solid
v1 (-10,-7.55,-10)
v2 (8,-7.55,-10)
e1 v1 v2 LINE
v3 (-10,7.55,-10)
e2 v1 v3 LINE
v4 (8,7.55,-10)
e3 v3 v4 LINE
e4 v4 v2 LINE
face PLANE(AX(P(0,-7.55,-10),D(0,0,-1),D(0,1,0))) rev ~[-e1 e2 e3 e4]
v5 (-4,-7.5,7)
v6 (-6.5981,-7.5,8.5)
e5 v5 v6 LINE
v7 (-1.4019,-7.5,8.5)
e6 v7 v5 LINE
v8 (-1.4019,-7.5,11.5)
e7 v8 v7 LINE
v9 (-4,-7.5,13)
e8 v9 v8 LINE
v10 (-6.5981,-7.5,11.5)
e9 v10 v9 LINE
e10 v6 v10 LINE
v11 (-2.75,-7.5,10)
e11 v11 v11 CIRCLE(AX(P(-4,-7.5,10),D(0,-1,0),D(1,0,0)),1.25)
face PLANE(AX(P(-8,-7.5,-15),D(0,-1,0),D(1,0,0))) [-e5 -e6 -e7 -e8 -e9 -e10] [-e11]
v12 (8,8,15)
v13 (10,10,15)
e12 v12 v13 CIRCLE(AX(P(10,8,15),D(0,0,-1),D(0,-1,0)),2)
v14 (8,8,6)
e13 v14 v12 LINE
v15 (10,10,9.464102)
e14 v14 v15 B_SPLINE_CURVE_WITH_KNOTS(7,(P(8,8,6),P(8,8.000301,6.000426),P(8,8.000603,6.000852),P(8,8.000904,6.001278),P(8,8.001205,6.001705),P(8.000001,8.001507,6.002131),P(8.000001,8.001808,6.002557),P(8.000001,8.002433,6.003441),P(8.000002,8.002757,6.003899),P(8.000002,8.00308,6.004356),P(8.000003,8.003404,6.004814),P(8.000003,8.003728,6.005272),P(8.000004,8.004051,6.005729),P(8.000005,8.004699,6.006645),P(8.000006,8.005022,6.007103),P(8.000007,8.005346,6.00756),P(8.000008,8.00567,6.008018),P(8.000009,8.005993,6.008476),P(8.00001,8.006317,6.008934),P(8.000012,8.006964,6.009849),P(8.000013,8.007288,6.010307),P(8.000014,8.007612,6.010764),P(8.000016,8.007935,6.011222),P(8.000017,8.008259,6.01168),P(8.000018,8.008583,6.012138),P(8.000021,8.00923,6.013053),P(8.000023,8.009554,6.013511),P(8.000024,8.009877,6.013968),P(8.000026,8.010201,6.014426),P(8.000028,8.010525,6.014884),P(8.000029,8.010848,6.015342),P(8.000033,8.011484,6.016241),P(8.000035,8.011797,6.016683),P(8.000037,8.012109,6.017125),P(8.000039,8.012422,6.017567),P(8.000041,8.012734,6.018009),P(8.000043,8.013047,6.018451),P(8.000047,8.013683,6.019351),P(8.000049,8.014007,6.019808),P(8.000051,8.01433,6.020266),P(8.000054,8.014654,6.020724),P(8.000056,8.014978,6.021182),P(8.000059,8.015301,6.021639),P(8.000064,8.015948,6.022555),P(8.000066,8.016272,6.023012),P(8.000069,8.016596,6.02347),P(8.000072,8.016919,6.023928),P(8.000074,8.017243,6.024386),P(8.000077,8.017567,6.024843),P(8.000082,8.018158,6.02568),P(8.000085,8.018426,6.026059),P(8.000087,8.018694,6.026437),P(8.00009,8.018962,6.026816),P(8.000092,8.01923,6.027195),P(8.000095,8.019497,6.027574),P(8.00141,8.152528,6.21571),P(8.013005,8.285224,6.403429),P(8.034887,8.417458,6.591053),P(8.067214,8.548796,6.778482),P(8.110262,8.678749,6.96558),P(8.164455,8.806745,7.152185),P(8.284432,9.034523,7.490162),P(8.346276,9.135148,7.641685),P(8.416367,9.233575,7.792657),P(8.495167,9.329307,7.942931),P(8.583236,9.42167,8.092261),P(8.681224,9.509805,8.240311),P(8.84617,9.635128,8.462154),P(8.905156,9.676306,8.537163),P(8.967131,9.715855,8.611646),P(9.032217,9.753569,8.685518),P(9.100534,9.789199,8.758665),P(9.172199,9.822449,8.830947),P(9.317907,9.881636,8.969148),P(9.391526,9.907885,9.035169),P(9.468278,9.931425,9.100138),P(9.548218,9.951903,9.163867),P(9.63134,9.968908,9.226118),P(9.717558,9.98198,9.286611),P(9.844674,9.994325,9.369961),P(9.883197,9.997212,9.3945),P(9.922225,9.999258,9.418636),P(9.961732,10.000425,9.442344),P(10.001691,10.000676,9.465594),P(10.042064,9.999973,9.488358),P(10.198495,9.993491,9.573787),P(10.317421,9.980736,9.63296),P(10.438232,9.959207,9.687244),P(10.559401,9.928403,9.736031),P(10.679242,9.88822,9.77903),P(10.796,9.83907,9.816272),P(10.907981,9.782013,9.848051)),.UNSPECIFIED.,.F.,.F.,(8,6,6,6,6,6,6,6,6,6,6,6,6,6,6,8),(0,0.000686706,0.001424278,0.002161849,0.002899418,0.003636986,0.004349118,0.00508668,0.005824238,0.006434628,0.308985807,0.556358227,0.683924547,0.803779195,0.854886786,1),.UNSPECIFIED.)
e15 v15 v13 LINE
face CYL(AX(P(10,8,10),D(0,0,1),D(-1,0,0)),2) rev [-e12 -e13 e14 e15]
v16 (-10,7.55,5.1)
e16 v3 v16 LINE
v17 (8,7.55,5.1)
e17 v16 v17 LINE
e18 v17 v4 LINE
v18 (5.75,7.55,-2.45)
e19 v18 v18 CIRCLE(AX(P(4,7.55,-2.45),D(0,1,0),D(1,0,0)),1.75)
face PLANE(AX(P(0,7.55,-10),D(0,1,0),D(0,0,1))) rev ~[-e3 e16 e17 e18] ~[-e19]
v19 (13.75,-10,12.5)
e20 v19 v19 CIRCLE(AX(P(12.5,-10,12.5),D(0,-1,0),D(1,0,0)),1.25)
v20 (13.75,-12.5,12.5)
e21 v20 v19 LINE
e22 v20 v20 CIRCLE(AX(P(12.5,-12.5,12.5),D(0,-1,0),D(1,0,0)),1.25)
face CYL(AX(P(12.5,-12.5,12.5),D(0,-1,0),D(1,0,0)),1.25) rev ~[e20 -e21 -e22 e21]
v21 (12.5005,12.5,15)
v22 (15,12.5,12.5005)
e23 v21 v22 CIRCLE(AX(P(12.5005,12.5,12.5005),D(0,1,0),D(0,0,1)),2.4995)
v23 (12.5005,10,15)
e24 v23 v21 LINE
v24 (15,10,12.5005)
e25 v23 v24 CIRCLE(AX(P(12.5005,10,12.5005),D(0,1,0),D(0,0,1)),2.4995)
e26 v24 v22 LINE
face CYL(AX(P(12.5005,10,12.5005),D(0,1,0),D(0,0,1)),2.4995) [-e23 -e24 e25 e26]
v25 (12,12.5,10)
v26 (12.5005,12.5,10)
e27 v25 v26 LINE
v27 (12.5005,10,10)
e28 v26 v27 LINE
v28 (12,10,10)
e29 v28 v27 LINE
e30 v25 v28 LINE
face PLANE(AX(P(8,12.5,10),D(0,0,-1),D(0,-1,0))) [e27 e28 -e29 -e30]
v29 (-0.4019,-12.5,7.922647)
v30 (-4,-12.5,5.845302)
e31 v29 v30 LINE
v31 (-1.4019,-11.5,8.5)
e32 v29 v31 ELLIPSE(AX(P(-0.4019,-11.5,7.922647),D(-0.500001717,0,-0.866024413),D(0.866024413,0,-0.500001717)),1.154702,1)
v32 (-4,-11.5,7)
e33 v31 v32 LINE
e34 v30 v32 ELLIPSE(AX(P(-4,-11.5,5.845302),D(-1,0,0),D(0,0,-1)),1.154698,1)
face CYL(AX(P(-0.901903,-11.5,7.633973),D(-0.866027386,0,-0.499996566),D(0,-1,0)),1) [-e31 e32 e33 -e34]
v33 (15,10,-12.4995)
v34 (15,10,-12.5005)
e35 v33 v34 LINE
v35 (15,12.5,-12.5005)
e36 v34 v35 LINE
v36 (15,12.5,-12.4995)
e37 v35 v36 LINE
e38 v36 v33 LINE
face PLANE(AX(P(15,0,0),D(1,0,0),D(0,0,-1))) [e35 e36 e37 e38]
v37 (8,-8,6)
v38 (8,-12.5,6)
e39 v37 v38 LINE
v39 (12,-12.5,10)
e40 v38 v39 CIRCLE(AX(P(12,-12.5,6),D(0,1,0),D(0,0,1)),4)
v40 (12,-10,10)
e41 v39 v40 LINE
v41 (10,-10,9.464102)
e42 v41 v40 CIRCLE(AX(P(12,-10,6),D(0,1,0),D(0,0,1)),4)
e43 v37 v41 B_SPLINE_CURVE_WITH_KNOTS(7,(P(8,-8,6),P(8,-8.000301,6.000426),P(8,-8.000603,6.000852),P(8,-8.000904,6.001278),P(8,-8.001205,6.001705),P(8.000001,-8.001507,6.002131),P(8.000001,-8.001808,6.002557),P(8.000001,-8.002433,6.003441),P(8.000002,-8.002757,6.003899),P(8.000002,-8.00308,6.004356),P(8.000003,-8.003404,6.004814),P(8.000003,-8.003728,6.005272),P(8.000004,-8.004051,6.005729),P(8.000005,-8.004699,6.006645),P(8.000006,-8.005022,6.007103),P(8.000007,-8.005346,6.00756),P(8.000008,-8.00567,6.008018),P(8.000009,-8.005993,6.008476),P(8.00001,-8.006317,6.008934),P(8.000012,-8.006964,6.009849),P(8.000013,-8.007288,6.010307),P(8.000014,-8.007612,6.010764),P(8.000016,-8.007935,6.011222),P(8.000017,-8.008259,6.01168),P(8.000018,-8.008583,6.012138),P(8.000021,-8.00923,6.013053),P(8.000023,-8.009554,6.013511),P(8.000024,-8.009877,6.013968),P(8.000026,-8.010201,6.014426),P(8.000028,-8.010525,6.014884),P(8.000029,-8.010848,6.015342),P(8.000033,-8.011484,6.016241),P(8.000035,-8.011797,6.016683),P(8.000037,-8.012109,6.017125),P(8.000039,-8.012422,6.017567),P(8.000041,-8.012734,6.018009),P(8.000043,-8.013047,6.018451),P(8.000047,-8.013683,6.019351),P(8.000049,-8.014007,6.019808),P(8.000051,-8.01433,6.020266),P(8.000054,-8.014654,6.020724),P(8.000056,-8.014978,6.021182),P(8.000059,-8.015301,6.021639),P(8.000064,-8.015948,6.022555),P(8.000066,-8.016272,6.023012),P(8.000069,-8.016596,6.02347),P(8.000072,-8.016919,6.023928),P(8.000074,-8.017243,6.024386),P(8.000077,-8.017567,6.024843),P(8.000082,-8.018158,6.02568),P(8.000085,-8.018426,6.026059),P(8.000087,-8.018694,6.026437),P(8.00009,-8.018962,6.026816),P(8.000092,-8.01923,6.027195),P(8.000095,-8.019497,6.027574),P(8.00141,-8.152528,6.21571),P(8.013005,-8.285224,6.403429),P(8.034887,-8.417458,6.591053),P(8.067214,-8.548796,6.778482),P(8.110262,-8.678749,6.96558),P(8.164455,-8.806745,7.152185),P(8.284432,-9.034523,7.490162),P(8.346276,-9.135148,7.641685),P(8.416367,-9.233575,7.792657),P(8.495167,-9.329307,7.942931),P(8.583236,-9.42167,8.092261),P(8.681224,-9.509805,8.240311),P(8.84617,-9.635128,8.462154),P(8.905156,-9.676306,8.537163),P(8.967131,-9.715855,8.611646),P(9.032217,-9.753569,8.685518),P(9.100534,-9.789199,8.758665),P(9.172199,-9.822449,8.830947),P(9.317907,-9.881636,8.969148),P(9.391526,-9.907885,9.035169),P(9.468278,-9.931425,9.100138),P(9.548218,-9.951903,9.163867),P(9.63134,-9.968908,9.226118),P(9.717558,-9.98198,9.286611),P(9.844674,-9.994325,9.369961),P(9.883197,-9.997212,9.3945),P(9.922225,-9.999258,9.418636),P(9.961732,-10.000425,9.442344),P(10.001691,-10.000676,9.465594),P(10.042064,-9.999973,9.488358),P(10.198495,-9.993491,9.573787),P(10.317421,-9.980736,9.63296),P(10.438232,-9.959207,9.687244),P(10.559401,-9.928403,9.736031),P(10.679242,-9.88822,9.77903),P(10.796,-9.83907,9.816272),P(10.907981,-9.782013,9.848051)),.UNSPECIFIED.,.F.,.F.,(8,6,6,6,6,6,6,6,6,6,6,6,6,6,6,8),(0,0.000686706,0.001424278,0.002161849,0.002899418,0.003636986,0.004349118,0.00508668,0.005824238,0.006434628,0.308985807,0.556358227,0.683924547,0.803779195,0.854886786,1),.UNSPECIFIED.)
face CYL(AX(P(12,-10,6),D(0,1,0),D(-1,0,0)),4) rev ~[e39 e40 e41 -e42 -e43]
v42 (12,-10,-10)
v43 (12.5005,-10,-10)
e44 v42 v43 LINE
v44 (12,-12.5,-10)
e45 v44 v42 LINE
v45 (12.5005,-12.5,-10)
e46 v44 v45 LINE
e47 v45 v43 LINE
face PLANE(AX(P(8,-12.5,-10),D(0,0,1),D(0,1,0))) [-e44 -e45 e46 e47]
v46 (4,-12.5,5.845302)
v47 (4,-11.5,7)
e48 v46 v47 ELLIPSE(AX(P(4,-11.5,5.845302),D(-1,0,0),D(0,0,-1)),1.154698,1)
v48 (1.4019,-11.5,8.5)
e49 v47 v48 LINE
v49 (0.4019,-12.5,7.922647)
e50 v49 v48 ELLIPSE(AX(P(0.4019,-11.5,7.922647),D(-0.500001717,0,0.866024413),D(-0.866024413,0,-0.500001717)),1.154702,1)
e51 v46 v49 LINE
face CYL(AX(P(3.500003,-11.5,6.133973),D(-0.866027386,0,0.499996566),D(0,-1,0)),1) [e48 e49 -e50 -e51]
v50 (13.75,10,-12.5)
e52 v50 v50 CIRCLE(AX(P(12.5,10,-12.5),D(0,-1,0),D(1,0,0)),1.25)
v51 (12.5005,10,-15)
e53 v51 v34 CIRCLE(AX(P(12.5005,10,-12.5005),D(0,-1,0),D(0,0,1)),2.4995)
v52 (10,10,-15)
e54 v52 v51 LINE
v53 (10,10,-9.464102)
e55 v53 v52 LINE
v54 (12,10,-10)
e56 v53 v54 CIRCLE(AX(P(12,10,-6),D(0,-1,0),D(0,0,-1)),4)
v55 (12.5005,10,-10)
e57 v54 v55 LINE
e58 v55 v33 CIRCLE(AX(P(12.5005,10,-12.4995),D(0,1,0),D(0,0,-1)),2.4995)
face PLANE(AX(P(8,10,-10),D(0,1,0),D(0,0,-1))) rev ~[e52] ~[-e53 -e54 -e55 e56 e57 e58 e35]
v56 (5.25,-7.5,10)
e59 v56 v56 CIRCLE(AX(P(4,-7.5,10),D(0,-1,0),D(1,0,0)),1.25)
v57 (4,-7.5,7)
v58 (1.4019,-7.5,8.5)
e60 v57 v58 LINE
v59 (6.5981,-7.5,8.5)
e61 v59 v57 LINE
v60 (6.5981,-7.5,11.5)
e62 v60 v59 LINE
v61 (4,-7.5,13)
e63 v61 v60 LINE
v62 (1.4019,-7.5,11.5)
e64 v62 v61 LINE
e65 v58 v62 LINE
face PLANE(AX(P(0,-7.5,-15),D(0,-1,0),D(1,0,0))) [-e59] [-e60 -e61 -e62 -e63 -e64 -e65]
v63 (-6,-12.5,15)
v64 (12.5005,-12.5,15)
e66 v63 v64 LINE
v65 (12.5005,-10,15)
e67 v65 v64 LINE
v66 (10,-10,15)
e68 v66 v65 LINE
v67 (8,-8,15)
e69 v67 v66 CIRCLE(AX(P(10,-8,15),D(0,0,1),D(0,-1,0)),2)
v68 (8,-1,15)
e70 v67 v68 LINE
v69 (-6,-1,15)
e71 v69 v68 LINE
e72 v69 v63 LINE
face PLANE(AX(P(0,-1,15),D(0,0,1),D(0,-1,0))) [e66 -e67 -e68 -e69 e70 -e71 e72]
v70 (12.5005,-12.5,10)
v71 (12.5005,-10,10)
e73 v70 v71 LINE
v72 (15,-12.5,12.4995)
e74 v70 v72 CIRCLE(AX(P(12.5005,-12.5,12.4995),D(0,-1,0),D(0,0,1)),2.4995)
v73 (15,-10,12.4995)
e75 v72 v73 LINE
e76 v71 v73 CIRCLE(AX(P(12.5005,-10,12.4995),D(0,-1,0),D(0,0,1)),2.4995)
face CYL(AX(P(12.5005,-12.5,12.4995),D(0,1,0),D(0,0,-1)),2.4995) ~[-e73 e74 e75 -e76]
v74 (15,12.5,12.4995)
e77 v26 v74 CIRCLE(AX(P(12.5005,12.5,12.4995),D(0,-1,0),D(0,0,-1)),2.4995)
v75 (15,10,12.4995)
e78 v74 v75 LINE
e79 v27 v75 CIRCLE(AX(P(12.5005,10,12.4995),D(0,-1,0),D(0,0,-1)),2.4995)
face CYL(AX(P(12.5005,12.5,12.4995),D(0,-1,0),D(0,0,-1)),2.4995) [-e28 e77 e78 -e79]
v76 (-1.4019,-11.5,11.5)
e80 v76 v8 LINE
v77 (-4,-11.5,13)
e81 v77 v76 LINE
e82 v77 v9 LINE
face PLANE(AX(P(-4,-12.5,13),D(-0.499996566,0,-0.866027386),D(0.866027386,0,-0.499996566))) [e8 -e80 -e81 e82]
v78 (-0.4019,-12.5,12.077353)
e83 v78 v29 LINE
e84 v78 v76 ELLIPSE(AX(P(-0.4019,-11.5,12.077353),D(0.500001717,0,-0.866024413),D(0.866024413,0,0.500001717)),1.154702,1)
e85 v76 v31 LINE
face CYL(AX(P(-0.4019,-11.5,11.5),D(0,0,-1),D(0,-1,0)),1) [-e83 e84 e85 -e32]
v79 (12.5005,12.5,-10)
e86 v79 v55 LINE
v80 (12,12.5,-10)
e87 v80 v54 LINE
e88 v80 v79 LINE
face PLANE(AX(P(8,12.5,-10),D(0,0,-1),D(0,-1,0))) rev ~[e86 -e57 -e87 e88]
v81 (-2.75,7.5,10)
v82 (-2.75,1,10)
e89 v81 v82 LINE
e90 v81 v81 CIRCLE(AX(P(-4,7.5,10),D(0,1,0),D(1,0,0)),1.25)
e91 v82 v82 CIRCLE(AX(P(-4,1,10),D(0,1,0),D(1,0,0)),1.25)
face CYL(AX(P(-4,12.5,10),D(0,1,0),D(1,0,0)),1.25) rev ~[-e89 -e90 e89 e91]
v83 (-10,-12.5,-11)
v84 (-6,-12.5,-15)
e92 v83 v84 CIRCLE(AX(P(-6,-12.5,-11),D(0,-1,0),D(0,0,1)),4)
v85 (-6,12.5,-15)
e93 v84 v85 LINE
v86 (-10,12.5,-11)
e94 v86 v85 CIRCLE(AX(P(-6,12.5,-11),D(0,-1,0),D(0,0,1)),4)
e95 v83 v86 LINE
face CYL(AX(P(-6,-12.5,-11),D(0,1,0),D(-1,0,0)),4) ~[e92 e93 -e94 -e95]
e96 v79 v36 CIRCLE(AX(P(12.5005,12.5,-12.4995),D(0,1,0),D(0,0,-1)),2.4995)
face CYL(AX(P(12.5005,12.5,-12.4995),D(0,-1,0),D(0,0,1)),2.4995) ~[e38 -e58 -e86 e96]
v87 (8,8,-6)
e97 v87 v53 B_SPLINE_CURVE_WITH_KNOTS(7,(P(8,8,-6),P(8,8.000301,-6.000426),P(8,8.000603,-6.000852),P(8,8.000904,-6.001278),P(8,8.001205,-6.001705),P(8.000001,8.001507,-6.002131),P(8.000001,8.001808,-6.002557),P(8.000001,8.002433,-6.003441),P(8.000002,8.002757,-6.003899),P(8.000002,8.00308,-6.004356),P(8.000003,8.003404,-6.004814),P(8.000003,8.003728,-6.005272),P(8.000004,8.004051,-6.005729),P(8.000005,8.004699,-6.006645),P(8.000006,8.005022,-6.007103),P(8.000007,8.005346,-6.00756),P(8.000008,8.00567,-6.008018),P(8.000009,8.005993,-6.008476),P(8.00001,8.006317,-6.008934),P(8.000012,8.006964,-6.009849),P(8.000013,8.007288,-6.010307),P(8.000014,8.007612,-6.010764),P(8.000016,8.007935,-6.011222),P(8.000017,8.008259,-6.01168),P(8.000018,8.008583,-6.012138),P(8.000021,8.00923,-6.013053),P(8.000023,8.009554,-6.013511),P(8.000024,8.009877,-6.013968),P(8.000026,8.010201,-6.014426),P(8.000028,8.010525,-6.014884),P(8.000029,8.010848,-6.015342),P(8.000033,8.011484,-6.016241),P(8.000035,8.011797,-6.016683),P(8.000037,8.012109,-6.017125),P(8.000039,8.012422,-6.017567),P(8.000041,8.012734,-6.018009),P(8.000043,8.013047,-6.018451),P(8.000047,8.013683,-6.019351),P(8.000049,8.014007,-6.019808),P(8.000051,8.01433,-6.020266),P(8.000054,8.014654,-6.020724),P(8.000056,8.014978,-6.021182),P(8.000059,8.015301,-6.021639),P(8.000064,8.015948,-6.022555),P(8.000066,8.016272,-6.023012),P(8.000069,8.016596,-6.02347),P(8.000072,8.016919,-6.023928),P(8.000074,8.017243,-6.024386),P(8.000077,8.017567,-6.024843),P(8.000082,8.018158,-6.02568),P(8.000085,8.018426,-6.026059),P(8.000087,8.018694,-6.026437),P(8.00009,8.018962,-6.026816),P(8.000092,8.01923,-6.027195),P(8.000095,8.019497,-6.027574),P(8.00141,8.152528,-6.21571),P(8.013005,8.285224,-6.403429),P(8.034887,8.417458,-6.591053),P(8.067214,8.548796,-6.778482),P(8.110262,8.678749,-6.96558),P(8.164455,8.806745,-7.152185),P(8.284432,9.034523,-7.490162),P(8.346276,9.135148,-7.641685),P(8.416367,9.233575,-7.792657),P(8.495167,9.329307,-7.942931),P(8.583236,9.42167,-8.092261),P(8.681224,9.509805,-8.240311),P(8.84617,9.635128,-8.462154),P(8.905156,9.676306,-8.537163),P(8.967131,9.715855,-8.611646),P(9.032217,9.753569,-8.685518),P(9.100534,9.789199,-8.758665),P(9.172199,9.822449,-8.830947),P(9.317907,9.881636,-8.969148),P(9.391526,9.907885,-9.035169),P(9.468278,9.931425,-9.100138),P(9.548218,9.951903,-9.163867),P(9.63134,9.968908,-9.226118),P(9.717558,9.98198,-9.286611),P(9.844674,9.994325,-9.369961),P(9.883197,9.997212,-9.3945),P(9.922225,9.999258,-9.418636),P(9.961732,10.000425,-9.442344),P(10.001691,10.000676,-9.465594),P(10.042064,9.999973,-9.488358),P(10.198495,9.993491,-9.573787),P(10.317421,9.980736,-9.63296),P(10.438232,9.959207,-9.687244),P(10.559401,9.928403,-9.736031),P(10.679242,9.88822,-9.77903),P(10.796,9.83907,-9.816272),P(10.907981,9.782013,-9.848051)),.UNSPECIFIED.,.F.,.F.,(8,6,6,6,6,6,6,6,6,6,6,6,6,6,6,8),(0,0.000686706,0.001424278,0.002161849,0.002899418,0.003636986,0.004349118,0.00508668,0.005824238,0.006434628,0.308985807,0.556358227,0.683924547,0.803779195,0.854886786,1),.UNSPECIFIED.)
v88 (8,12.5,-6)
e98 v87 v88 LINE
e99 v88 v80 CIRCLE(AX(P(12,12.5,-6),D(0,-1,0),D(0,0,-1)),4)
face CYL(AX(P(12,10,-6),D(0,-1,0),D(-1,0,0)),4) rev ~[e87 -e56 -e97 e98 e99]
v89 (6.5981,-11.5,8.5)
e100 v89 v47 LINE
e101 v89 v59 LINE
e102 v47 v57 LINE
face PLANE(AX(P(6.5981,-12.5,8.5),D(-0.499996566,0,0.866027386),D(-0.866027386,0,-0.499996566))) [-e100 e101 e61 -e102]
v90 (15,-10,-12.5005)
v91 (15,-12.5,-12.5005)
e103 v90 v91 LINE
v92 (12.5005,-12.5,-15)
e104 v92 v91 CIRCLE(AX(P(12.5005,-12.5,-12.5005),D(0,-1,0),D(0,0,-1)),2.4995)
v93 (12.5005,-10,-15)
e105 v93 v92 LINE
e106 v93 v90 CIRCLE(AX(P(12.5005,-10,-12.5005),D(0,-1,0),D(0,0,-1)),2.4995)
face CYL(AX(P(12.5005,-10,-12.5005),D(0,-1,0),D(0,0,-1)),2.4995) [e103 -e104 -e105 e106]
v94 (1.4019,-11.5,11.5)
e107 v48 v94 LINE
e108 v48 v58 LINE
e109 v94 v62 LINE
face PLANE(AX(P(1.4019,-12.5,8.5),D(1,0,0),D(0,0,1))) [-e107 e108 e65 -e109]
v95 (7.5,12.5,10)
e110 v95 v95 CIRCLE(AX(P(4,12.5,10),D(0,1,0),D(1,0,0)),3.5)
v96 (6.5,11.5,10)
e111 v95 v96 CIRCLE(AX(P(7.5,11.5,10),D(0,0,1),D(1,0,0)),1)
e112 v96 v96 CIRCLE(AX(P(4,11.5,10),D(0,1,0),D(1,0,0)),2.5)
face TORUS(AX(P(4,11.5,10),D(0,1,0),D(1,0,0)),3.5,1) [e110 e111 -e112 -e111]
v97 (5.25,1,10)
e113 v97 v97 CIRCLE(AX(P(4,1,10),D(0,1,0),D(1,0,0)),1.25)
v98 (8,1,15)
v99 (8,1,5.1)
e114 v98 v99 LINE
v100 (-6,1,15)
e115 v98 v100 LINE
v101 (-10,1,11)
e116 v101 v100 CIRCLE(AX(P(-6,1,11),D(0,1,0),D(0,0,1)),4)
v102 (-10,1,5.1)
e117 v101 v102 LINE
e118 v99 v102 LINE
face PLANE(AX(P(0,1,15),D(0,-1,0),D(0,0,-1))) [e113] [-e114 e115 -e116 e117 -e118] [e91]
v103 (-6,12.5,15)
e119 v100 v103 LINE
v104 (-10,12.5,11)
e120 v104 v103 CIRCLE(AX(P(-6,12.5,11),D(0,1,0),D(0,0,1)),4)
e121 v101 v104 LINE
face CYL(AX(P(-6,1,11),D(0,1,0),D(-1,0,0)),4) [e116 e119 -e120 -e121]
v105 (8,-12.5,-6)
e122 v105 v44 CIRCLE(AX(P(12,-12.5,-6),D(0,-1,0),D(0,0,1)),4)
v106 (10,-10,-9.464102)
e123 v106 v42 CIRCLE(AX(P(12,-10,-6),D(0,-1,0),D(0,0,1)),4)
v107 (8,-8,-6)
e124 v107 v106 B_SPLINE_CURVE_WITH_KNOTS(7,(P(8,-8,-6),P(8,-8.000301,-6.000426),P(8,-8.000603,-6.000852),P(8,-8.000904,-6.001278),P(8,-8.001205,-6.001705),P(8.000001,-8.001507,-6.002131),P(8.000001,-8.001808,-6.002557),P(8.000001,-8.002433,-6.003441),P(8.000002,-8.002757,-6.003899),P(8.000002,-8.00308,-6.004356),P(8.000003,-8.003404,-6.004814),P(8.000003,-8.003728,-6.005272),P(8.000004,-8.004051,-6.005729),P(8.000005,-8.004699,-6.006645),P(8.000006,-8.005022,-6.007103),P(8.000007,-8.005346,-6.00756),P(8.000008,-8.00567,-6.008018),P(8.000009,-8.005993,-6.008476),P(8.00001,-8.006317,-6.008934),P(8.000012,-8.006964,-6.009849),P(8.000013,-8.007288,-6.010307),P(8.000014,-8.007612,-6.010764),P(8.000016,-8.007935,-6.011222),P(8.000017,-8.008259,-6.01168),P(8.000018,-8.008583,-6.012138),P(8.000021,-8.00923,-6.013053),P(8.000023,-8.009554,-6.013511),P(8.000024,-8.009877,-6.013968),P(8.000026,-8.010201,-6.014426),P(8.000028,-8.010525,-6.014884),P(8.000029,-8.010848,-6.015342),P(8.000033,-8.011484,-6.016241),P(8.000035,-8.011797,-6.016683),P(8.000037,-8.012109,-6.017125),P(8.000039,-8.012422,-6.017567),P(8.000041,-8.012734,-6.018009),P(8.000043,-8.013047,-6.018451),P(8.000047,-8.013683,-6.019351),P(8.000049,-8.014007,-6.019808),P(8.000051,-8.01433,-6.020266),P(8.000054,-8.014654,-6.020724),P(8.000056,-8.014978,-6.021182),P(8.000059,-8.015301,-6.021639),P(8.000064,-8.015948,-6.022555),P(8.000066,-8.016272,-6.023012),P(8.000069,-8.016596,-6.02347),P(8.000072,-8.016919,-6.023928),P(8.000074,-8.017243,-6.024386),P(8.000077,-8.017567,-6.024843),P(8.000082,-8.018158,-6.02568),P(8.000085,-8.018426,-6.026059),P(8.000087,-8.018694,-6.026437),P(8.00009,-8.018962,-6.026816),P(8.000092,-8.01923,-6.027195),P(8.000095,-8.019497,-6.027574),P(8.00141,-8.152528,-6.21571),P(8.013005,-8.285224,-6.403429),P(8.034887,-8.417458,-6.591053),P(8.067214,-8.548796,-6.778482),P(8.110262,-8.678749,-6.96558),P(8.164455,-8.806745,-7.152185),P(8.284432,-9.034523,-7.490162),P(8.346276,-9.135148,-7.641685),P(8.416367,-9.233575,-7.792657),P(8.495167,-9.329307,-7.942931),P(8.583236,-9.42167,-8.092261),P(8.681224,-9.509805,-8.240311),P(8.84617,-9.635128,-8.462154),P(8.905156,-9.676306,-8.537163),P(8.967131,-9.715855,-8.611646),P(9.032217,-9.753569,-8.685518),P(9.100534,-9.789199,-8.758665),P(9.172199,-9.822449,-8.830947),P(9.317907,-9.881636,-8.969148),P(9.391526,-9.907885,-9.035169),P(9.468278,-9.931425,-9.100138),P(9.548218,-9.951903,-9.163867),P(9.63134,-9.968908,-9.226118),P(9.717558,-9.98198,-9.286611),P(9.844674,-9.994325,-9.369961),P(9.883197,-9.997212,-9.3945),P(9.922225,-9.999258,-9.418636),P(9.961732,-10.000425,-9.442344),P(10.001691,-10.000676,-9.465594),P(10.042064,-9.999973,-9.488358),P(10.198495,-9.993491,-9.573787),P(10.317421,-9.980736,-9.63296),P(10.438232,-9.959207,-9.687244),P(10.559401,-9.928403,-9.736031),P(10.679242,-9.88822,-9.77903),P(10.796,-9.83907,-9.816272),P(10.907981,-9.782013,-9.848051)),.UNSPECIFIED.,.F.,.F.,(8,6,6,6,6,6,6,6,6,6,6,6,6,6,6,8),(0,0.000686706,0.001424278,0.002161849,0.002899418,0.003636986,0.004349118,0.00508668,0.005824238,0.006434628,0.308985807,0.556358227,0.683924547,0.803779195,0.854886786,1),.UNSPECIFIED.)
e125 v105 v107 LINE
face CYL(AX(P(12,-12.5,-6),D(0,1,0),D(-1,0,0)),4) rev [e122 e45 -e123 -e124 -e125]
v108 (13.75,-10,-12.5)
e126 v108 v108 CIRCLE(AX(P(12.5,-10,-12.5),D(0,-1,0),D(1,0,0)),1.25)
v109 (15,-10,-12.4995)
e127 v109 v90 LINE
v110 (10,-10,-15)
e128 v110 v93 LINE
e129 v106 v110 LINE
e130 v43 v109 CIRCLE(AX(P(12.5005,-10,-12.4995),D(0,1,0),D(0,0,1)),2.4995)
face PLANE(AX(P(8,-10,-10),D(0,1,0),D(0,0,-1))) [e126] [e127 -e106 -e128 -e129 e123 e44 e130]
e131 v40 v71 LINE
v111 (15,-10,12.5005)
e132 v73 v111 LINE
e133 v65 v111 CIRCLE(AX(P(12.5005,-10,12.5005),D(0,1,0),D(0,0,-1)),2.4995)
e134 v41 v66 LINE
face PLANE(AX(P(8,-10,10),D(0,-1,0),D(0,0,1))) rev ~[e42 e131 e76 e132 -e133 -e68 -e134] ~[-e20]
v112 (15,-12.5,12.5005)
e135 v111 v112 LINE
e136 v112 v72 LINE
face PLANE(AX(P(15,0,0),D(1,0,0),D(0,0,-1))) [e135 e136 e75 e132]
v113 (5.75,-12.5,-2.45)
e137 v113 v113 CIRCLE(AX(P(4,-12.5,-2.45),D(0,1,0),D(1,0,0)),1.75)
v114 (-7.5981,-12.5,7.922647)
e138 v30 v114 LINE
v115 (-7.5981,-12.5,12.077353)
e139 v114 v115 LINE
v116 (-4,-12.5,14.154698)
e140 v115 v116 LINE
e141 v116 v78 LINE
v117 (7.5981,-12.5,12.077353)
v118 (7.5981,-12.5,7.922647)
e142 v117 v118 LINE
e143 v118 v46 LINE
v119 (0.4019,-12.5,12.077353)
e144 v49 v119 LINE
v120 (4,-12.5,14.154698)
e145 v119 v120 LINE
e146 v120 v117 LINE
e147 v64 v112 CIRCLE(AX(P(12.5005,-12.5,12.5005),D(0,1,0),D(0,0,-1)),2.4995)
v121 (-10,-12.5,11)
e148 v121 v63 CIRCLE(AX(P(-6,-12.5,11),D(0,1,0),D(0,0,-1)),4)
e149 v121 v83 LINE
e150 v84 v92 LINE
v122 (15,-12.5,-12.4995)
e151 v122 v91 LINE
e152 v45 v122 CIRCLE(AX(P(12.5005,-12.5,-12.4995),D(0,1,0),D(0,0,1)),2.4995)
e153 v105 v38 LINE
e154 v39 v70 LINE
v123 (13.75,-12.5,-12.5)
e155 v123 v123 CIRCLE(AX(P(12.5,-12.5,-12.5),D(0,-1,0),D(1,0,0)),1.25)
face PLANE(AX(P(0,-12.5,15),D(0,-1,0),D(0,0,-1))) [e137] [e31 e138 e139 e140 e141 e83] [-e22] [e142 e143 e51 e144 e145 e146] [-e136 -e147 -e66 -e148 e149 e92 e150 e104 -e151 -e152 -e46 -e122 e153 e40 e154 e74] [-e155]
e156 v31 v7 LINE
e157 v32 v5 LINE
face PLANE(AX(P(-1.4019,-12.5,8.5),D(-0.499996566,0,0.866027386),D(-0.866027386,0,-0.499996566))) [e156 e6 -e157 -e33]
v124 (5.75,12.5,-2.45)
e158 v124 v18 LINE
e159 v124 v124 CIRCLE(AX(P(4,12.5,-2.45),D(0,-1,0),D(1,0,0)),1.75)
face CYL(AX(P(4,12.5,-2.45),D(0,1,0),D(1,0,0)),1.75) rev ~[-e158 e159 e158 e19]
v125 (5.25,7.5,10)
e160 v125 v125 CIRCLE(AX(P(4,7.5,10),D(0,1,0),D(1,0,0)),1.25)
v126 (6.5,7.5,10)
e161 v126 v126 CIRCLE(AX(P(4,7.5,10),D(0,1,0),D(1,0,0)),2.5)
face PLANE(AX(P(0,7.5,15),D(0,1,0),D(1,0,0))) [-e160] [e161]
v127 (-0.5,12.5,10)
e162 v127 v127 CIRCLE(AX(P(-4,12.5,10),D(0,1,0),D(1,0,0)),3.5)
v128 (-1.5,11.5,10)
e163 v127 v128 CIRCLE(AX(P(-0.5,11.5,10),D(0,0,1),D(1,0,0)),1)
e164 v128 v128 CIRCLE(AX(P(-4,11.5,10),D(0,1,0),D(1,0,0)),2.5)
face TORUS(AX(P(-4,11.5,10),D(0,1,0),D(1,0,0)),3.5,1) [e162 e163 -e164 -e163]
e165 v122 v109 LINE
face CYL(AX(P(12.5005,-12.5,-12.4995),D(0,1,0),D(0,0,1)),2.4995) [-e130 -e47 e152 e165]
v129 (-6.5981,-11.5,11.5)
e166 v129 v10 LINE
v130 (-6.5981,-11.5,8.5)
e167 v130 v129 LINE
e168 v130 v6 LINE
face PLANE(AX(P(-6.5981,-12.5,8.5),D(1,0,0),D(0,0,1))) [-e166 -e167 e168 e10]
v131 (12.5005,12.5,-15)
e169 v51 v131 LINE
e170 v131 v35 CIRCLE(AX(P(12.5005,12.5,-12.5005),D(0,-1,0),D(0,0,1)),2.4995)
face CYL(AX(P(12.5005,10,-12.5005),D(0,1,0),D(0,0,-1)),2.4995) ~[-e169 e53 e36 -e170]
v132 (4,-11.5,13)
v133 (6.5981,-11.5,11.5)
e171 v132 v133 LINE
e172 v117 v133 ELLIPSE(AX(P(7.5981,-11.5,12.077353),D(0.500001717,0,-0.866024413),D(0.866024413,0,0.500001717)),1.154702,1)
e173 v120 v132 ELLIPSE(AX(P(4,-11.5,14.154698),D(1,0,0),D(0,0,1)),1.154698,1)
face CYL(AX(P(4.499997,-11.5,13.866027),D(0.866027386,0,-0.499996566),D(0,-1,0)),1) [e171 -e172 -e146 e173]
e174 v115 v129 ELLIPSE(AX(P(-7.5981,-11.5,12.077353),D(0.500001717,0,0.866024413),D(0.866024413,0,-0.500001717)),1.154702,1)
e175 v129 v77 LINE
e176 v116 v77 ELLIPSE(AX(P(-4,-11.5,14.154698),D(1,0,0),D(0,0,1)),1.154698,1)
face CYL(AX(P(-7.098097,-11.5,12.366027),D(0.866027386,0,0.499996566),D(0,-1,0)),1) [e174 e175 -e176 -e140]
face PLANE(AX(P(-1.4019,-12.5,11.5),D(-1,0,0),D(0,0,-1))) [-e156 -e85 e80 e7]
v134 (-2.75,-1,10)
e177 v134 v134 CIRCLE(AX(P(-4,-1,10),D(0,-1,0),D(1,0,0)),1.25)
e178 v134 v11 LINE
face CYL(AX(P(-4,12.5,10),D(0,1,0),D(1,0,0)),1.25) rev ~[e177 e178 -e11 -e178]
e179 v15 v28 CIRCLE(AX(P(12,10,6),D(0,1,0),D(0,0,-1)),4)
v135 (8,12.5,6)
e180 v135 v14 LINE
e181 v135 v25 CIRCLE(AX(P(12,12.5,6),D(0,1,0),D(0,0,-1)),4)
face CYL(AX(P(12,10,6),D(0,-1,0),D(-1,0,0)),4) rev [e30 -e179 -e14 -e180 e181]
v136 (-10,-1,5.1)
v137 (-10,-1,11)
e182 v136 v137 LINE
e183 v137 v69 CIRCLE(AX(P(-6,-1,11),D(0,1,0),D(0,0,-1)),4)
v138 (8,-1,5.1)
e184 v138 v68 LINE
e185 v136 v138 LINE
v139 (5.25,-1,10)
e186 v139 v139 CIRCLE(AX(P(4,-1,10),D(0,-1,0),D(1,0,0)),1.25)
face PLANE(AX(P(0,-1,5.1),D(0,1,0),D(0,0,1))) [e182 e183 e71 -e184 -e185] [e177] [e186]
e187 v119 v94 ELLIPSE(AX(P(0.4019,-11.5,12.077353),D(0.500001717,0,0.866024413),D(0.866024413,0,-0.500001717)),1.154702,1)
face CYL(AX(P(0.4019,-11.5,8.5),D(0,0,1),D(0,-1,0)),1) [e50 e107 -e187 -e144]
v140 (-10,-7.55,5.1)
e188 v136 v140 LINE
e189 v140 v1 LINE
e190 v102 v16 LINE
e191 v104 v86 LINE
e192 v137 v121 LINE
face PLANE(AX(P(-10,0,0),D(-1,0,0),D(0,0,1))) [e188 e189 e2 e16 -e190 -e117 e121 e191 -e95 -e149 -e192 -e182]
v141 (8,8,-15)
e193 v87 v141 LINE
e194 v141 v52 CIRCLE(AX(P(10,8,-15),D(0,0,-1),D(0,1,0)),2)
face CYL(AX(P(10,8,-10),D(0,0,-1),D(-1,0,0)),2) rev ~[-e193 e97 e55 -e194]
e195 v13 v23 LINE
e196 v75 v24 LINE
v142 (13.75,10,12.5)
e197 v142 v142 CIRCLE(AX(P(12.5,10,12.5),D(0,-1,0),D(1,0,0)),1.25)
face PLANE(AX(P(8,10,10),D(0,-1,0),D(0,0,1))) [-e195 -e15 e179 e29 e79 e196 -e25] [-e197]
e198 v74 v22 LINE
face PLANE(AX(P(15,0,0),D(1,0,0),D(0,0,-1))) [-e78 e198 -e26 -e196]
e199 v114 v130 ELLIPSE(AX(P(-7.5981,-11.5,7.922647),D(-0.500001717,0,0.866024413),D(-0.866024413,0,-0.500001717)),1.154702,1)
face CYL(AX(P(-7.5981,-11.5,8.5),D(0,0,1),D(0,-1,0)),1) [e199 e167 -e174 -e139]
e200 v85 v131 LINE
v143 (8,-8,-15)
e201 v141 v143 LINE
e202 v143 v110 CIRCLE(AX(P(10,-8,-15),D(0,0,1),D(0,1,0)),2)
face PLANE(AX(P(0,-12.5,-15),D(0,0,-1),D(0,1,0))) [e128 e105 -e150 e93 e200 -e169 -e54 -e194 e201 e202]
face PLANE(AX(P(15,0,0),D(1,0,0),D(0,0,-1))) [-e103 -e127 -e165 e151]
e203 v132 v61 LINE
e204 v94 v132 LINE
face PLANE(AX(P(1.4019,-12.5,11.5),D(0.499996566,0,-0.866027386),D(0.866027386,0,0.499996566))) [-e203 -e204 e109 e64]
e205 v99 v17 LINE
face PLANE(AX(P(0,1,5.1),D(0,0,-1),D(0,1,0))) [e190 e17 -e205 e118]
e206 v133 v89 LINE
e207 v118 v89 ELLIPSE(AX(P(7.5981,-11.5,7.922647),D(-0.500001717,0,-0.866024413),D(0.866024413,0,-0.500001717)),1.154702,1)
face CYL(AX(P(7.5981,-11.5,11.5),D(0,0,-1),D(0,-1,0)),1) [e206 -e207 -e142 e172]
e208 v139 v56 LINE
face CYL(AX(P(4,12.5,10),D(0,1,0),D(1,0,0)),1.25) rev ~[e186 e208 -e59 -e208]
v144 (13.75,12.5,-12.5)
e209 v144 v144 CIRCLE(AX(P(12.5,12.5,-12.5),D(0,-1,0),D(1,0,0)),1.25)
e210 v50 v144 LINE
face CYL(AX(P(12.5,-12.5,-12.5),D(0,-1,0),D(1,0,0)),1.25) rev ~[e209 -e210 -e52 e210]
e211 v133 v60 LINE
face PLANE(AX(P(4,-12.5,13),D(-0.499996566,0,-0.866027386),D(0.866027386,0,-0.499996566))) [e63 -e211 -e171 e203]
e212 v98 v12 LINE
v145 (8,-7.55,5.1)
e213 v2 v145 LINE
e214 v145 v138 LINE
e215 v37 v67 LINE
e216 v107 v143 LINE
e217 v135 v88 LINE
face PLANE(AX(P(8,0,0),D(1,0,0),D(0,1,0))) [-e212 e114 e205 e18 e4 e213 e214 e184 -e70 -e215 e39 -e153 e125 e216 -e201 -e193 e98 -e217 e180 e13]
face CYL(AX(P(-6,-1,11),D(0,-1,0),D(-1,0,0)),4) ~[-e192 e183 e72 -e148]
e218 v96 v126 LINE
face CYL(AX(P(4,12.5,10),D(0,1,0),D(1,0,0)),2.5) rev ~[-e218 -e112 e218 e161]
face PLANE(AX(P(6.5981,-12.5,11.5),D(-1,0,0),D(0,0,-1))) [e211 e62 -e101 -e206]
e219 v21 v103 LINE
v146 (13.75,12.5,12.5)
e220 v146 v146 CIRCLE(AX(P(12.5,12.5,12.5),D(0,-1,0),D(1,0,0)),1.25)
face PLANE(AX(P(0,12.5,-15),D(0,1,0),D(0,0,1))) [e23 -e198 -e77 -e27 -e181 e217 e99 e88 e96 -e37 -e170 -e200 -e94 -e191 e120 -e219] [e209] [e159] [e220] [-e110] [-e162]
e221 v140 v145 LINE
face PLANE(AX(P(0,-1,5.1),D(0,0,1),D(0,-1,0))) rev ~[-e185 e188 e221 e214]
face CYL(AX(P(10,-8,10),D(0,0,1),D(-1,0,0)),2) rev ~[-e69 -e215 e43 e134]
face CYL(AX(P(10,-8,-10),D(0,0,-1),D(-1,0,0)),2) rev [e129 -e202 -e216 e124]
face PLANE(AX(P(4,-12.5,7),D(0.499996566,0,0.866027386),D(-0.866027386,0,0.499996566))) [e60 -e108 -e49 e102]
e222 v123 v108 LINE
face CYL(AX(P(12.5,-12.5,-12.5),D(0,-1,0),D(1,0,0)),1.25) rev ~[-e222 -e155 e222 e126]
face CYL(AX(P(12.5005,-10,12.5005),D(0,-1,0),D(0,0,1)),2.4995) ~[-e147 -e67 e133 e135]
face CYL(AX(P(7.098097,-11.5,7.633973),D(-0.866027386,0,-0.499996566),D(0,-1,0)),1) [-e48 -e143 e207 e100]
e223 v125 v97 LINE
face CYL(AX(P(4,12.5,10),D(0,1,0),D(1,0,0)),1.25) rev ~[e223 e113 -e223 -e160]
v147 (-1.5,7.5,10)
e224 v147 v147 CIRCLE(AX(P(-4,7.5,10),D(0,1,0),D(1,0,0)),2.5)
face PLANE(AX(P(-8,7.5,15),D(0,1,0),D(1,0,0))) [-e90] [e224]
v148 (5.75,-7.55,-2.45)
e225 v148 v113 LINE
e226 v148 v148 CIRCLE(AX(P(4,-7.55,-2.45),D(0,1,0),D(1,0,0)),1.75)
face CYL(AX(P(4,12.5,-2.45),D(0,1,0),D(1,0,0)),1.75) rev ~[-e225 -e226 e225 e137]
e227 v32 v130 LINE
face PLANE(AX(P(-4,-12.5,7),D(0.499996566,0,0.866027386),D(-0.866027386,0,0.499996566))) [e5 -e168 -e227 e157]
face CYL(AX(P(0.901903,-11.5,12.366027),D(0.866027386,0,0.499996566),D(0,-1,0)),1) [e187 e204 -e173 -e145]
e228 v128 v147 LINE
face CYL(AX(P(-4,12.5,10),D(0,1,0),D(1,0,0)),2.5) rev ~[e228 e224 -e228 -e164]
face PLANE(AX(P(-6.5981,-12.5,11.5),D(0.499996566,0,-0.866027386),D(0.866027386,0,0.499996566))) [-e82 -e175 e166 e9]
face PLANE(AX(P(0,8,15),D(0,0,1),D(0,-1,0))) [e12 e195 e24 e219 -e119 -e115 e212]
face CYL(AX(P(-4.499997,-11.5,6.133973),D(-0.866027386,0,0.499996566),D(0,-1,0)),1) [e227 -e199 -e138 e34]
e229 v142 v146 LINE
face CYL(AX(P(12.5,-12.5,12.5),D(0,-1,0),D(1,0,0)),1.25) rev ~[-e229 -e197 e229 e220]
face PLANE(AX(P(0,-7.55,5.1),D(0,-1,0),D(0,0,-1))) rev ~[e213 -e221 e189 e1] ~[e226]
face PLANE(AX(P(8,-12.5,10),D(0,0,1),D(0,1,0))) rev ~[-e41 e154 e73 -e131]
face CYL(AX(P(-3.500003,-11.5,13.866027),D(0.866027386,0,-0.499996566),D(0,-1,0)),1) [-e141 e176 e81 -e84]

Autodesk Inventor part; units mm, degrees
ref_plane "YZ Plane" through (0, 0, 0) normal (1, 0, 0) x (0, 1, 0)
ref_plane "XZ Plane" through (0, 0, 0) normal (0, 1, 0) x (-1, 0, 0)
ref_plane "XY Plane" through (0, 0, 0) normal (0, 0, 1) x (1, 0, 0)
sketch "Sketch1" plane through (0, 0, 0) normal (1, 0, 0) x (0, 1, 0)
  line L0 (-12.5, 15) -> (12.5, 15)
  line L1 (12.5, 15) -> (12.5, -15)
  line L2 (12.5, -15) -> (-12.5, -15)
  line L3 (-12.5, -15) -> (-12.5, 15)
  line L4 (-12.5, 15) -> (12.5, -15) construction
  line L5 (12.5, 15) -> (-12.5, -15) construction
  line L6 (-7.55, 5.1) -> (7.55, 5.1)
  line L7 (7.55, 5.1) -> (7.55, -10)
  line L8 (7.55, -10) -> (-7.55, -10)
  line L9 (-7.55, -10) -> (-7.55, 5.1)
  line L10 (-7.55, 5.1) -> (7.55, -10) construction
  line L11 (7.55, 5.1) -> (-7.55, -10) construction
  line L12 (0, 5.1) -> (1, 5.1)
  line L13 (1, 5.1) -> (-1, 5.1)
  line L14 (-1, 5.1) -> (-1, 15)
  line L15 (-1, 15) -> (1, 15)
  line L16 (1, 15) -> (1, 5.1)
  point P0 (0, 0)
  point P1 (0, -2.45)
  dimension "d0" = 25
  dimension "d1" = 30
  dimension "d2" = 15.1
  dimension "d3" = 15.1
  dimension "d4" = 5
  dimension "d5" = 4.95
  dimension "d6" = 1
  dimension "d7" = 2
extrude "Extrusion1" add sketch "Sketch1" along normal blind 8 contours L0 L14 L6 L9 L8 L7 L16 L1 L2 L3
sketch "Sketch2" plane through (0, 12.5, 15) normal (0, 1, 0) x (1, 0, 0)
  line L0 (0, 0) -> (8, 0) projected
  line L1 (4, 0) -> (4, 5)
  circle A0 centre (4, 5) radius 1.25
  point P0 (0, 15)
  dimension "d10" = 5
  dimension "d11" = 2.5
extrude "Extrusion2" cut sketch "Sketch2" against normal through all
sketch "Sketch3" plane through (0, 12.5, 15) normal (0, 1, 0) x (1, 0, 0)
  line L0 (0, 30) -> (8, 30) projected
  line L1 (4, 30) -> (4, 17.45)
  circle A0 centre (4, 17.45) radius 1.75
  point P0 (0, 15)
  dimension "d14" = 12.55
  dimension "d15" = 3.5
extrude "Extrusion3" cut sketch "Sketch3" against normal through all
sketch "Sketch4" plane through (0, 12.5, 15) normal (0, 1, 0) x (1, 0, 0)
  circle A0 centre (4, 5) radius 1.25 projected
  circle A1 centre (4, 5) radius 2.5
  point P0 (0, 15)
  dimension "d18" = 5
extrude "Extrusion4" cut sketch "Sketch4" against normal blind 5
sketch "Sketch5" plane through (0, -12.5, -15) normal (0, -1, 0) x (1, 0, 0)
  circle A0 centre (4, 25) radius 1.25 projected
  line L0 (4, 28) -> (6.5981, 26.5)
  line L1 (6.5981, 26.5) -> (6.5981, 23.5)
  line L2 (6.5981, 23.5) -> (4, 22)
  line L3 (4, 22) -> (1.4019, 23.5)
  line L4 (1.4019, 23.5) -> (1.4019, 26.5)
  line L5 (1.4019, 26.5) -> (4, 28)
  point P0 (0, 15)
  dimension "d21" = 3
extrude "Extrusion5" cut sketch "Sketch5" against normal blind 5
fillet "Fillet1" radius 1 1 edges at (1.5, 12.5, 10)
fillet "Fillet2" radius 1 6 edges at (2.701, -12.5, 12.25) (5.299, -12.5, 12.25) (6.5981, -12.5, 10) (5.299, -12.5, 7.75) (2.701, -12.5, 7.75) (1.4019, -12.5, 10)
sketch "Sketch6" plane through (8, 0, 0) normal (1, 0, 0) x (0, 0, -1)
  line L0 (15, 12.5) -> (-15, 12.5) projected
  line L1 (-15, 12.5) -> (-10, 12.5)
  line L2 (-10, 12.5) -> (-10, 10)
  line L3 (-10, 10) -> (-15, 10)
  line L4 (-15, 10) -> (-15, 12.5)
  line L5 (15, 12.5) -> (10, 12.5)
  line L6 (10, 12.5) -> (10, 10)
  line L7 (10, 10) -> (15, 10)
  line L8 (15, 10) -> (15, 12.5)
  line L9 (-15, -12.5) -> (15, -12.5) projected
  line L10 (-15, -12.5) -> (-10, -12.5)
  line L11 (-10, -12.5) -> (-10, -10)
  line L12 (-10, -10) -> (-15, -10)
  line L13 (-15, -10) -> (-15, -12.5)
  line L14 (15, -12.5) -> (10, -12.5)
  line L15 (10, -12.5) -> (10, -10)
  line L16 (10, -10) -> (15, -10)
  line L17 (15, -10) -> (15, -12.5)
  point P0 (0, 0)
  dimension "d26" = 5
  dimension "d27" = 2.5
  dimension "d28" = 5
  dimension "d29" = 2.5
  dimension "d30" = 5
  dimension "d31" = 2.5
  dimension "d32" = 5
  dimension "d33" = 2.5
extrude "Extrusion6" add sketch "Sketch6" along normal blind 7
fillet "Fillet3" radius 2.5 8 edges at (15, 11.25, 15) (15, 11.25, 10) (15, -11.25, 15) (15, -11.25, 10) (15, -11.25, -10) (15, -11.25, -15) (15, 11.25, -10) (15, 11.25, -15)
sketch "Sketch7" plane through (0, -12.5, -15) normal (0, -1, 0) x (1, 0, 0)
  arc A0 (12.5, 25) -> (12.5, 30) centre (12.5, 27.5) ccw projected
  circle A1 centre (12.5, 27.5) radius 1.25
  arc A2 (12.5, 0) -> (12.5, 5) centre (12.5, 2.5) ccw projected
  circle A3 centre (12.5, 2.5) radius 1.25
  point P0 (0, 15)
  dimension "d37" = 2.5
  dimension "d38" = 2.5
extrude "Extrusion7" cut sketch "Sketch7" against normal through all
fillet "Fillet4" radius 2 4 edges at (8, -10, 12.5) (8, 10, 12.5) (8, 10, -12.5) (8, -10, -12.5)
fillet "Fillet5" radius 4 4 edges at (8, -11.25, 10) (8, -11.25, -10) (8, 11.25, -10) (8, 11.25, 10)
sketch "Sketch8" plane through (0, 0, 0) normal (-1, 0, 0) x (0, 0, 1)
  line L0 (5.1, 1) -> (5.1, 7.55) projected
  line L1 (5.1, 1) -> (5.1, 7.55)
  line L2 (-10, 7.55) -> (5.1, 7.55) projected
  line L3 (5.1, 7.55) -> (-10, 7.55)
  line L4 (-10, -7.55) -> (-10, 7.55) projected
  line L5 (-10, 7.55) -> (-10, -7.55)
  line L6 (5.1, -7.55) -> (-10, -7.55) projected
  line L7 (-10, -7.55) -> (5.1, -7.55)
  line L8 (5.1, -1) -> (5.1, -7.55) projected
  line L9 (5.1, -7.55) -> (5.1, -1)
  line L10 (15, -1) -> (15, -12.5) projected
  line L11 (5.1, -1) -> (15, -1)
  line L12 (15, -1) -> (15, -12.5)
  line L13 (15, -12.5) -> (-15, -12.5) projected
  line L14 (15, -12.5) -> (-15, -12.5)
  line L15 (-15, -12.5) -> (-15, 12.5) projected
  line L16 (-15, -12.5) -> (-15, 12.5)
  line L17 (10, 12.5) -> (15, 12.5) projected
  line L18 (-15, 12.5) -> (15, 12.5)
  line L19 (15, 8) -> (15, 1) projected
  line L20 (15, 12.5) -> (15, 1)
  line L21 (15, 1) -> (5.1, 1)
  point P0 (0, 0)
extrude "Extrusion8" add sketch "Sketch8" along normal blind 10
fillet "Fillet7" radius 4 3 edges at (-10, 6.75, 15) (-10, -6.75, 15) (-10, 0, -15)
pattern_linear "Rectangular Pattern1" count 2 spacing 8 along (-1, 0, 0) of "Extrusion2", "Extrusion5", "Fillet2", "Extrusion4", "Fillet1"
equation "\"d19\" = d18"
properties part number "arm_socket"
